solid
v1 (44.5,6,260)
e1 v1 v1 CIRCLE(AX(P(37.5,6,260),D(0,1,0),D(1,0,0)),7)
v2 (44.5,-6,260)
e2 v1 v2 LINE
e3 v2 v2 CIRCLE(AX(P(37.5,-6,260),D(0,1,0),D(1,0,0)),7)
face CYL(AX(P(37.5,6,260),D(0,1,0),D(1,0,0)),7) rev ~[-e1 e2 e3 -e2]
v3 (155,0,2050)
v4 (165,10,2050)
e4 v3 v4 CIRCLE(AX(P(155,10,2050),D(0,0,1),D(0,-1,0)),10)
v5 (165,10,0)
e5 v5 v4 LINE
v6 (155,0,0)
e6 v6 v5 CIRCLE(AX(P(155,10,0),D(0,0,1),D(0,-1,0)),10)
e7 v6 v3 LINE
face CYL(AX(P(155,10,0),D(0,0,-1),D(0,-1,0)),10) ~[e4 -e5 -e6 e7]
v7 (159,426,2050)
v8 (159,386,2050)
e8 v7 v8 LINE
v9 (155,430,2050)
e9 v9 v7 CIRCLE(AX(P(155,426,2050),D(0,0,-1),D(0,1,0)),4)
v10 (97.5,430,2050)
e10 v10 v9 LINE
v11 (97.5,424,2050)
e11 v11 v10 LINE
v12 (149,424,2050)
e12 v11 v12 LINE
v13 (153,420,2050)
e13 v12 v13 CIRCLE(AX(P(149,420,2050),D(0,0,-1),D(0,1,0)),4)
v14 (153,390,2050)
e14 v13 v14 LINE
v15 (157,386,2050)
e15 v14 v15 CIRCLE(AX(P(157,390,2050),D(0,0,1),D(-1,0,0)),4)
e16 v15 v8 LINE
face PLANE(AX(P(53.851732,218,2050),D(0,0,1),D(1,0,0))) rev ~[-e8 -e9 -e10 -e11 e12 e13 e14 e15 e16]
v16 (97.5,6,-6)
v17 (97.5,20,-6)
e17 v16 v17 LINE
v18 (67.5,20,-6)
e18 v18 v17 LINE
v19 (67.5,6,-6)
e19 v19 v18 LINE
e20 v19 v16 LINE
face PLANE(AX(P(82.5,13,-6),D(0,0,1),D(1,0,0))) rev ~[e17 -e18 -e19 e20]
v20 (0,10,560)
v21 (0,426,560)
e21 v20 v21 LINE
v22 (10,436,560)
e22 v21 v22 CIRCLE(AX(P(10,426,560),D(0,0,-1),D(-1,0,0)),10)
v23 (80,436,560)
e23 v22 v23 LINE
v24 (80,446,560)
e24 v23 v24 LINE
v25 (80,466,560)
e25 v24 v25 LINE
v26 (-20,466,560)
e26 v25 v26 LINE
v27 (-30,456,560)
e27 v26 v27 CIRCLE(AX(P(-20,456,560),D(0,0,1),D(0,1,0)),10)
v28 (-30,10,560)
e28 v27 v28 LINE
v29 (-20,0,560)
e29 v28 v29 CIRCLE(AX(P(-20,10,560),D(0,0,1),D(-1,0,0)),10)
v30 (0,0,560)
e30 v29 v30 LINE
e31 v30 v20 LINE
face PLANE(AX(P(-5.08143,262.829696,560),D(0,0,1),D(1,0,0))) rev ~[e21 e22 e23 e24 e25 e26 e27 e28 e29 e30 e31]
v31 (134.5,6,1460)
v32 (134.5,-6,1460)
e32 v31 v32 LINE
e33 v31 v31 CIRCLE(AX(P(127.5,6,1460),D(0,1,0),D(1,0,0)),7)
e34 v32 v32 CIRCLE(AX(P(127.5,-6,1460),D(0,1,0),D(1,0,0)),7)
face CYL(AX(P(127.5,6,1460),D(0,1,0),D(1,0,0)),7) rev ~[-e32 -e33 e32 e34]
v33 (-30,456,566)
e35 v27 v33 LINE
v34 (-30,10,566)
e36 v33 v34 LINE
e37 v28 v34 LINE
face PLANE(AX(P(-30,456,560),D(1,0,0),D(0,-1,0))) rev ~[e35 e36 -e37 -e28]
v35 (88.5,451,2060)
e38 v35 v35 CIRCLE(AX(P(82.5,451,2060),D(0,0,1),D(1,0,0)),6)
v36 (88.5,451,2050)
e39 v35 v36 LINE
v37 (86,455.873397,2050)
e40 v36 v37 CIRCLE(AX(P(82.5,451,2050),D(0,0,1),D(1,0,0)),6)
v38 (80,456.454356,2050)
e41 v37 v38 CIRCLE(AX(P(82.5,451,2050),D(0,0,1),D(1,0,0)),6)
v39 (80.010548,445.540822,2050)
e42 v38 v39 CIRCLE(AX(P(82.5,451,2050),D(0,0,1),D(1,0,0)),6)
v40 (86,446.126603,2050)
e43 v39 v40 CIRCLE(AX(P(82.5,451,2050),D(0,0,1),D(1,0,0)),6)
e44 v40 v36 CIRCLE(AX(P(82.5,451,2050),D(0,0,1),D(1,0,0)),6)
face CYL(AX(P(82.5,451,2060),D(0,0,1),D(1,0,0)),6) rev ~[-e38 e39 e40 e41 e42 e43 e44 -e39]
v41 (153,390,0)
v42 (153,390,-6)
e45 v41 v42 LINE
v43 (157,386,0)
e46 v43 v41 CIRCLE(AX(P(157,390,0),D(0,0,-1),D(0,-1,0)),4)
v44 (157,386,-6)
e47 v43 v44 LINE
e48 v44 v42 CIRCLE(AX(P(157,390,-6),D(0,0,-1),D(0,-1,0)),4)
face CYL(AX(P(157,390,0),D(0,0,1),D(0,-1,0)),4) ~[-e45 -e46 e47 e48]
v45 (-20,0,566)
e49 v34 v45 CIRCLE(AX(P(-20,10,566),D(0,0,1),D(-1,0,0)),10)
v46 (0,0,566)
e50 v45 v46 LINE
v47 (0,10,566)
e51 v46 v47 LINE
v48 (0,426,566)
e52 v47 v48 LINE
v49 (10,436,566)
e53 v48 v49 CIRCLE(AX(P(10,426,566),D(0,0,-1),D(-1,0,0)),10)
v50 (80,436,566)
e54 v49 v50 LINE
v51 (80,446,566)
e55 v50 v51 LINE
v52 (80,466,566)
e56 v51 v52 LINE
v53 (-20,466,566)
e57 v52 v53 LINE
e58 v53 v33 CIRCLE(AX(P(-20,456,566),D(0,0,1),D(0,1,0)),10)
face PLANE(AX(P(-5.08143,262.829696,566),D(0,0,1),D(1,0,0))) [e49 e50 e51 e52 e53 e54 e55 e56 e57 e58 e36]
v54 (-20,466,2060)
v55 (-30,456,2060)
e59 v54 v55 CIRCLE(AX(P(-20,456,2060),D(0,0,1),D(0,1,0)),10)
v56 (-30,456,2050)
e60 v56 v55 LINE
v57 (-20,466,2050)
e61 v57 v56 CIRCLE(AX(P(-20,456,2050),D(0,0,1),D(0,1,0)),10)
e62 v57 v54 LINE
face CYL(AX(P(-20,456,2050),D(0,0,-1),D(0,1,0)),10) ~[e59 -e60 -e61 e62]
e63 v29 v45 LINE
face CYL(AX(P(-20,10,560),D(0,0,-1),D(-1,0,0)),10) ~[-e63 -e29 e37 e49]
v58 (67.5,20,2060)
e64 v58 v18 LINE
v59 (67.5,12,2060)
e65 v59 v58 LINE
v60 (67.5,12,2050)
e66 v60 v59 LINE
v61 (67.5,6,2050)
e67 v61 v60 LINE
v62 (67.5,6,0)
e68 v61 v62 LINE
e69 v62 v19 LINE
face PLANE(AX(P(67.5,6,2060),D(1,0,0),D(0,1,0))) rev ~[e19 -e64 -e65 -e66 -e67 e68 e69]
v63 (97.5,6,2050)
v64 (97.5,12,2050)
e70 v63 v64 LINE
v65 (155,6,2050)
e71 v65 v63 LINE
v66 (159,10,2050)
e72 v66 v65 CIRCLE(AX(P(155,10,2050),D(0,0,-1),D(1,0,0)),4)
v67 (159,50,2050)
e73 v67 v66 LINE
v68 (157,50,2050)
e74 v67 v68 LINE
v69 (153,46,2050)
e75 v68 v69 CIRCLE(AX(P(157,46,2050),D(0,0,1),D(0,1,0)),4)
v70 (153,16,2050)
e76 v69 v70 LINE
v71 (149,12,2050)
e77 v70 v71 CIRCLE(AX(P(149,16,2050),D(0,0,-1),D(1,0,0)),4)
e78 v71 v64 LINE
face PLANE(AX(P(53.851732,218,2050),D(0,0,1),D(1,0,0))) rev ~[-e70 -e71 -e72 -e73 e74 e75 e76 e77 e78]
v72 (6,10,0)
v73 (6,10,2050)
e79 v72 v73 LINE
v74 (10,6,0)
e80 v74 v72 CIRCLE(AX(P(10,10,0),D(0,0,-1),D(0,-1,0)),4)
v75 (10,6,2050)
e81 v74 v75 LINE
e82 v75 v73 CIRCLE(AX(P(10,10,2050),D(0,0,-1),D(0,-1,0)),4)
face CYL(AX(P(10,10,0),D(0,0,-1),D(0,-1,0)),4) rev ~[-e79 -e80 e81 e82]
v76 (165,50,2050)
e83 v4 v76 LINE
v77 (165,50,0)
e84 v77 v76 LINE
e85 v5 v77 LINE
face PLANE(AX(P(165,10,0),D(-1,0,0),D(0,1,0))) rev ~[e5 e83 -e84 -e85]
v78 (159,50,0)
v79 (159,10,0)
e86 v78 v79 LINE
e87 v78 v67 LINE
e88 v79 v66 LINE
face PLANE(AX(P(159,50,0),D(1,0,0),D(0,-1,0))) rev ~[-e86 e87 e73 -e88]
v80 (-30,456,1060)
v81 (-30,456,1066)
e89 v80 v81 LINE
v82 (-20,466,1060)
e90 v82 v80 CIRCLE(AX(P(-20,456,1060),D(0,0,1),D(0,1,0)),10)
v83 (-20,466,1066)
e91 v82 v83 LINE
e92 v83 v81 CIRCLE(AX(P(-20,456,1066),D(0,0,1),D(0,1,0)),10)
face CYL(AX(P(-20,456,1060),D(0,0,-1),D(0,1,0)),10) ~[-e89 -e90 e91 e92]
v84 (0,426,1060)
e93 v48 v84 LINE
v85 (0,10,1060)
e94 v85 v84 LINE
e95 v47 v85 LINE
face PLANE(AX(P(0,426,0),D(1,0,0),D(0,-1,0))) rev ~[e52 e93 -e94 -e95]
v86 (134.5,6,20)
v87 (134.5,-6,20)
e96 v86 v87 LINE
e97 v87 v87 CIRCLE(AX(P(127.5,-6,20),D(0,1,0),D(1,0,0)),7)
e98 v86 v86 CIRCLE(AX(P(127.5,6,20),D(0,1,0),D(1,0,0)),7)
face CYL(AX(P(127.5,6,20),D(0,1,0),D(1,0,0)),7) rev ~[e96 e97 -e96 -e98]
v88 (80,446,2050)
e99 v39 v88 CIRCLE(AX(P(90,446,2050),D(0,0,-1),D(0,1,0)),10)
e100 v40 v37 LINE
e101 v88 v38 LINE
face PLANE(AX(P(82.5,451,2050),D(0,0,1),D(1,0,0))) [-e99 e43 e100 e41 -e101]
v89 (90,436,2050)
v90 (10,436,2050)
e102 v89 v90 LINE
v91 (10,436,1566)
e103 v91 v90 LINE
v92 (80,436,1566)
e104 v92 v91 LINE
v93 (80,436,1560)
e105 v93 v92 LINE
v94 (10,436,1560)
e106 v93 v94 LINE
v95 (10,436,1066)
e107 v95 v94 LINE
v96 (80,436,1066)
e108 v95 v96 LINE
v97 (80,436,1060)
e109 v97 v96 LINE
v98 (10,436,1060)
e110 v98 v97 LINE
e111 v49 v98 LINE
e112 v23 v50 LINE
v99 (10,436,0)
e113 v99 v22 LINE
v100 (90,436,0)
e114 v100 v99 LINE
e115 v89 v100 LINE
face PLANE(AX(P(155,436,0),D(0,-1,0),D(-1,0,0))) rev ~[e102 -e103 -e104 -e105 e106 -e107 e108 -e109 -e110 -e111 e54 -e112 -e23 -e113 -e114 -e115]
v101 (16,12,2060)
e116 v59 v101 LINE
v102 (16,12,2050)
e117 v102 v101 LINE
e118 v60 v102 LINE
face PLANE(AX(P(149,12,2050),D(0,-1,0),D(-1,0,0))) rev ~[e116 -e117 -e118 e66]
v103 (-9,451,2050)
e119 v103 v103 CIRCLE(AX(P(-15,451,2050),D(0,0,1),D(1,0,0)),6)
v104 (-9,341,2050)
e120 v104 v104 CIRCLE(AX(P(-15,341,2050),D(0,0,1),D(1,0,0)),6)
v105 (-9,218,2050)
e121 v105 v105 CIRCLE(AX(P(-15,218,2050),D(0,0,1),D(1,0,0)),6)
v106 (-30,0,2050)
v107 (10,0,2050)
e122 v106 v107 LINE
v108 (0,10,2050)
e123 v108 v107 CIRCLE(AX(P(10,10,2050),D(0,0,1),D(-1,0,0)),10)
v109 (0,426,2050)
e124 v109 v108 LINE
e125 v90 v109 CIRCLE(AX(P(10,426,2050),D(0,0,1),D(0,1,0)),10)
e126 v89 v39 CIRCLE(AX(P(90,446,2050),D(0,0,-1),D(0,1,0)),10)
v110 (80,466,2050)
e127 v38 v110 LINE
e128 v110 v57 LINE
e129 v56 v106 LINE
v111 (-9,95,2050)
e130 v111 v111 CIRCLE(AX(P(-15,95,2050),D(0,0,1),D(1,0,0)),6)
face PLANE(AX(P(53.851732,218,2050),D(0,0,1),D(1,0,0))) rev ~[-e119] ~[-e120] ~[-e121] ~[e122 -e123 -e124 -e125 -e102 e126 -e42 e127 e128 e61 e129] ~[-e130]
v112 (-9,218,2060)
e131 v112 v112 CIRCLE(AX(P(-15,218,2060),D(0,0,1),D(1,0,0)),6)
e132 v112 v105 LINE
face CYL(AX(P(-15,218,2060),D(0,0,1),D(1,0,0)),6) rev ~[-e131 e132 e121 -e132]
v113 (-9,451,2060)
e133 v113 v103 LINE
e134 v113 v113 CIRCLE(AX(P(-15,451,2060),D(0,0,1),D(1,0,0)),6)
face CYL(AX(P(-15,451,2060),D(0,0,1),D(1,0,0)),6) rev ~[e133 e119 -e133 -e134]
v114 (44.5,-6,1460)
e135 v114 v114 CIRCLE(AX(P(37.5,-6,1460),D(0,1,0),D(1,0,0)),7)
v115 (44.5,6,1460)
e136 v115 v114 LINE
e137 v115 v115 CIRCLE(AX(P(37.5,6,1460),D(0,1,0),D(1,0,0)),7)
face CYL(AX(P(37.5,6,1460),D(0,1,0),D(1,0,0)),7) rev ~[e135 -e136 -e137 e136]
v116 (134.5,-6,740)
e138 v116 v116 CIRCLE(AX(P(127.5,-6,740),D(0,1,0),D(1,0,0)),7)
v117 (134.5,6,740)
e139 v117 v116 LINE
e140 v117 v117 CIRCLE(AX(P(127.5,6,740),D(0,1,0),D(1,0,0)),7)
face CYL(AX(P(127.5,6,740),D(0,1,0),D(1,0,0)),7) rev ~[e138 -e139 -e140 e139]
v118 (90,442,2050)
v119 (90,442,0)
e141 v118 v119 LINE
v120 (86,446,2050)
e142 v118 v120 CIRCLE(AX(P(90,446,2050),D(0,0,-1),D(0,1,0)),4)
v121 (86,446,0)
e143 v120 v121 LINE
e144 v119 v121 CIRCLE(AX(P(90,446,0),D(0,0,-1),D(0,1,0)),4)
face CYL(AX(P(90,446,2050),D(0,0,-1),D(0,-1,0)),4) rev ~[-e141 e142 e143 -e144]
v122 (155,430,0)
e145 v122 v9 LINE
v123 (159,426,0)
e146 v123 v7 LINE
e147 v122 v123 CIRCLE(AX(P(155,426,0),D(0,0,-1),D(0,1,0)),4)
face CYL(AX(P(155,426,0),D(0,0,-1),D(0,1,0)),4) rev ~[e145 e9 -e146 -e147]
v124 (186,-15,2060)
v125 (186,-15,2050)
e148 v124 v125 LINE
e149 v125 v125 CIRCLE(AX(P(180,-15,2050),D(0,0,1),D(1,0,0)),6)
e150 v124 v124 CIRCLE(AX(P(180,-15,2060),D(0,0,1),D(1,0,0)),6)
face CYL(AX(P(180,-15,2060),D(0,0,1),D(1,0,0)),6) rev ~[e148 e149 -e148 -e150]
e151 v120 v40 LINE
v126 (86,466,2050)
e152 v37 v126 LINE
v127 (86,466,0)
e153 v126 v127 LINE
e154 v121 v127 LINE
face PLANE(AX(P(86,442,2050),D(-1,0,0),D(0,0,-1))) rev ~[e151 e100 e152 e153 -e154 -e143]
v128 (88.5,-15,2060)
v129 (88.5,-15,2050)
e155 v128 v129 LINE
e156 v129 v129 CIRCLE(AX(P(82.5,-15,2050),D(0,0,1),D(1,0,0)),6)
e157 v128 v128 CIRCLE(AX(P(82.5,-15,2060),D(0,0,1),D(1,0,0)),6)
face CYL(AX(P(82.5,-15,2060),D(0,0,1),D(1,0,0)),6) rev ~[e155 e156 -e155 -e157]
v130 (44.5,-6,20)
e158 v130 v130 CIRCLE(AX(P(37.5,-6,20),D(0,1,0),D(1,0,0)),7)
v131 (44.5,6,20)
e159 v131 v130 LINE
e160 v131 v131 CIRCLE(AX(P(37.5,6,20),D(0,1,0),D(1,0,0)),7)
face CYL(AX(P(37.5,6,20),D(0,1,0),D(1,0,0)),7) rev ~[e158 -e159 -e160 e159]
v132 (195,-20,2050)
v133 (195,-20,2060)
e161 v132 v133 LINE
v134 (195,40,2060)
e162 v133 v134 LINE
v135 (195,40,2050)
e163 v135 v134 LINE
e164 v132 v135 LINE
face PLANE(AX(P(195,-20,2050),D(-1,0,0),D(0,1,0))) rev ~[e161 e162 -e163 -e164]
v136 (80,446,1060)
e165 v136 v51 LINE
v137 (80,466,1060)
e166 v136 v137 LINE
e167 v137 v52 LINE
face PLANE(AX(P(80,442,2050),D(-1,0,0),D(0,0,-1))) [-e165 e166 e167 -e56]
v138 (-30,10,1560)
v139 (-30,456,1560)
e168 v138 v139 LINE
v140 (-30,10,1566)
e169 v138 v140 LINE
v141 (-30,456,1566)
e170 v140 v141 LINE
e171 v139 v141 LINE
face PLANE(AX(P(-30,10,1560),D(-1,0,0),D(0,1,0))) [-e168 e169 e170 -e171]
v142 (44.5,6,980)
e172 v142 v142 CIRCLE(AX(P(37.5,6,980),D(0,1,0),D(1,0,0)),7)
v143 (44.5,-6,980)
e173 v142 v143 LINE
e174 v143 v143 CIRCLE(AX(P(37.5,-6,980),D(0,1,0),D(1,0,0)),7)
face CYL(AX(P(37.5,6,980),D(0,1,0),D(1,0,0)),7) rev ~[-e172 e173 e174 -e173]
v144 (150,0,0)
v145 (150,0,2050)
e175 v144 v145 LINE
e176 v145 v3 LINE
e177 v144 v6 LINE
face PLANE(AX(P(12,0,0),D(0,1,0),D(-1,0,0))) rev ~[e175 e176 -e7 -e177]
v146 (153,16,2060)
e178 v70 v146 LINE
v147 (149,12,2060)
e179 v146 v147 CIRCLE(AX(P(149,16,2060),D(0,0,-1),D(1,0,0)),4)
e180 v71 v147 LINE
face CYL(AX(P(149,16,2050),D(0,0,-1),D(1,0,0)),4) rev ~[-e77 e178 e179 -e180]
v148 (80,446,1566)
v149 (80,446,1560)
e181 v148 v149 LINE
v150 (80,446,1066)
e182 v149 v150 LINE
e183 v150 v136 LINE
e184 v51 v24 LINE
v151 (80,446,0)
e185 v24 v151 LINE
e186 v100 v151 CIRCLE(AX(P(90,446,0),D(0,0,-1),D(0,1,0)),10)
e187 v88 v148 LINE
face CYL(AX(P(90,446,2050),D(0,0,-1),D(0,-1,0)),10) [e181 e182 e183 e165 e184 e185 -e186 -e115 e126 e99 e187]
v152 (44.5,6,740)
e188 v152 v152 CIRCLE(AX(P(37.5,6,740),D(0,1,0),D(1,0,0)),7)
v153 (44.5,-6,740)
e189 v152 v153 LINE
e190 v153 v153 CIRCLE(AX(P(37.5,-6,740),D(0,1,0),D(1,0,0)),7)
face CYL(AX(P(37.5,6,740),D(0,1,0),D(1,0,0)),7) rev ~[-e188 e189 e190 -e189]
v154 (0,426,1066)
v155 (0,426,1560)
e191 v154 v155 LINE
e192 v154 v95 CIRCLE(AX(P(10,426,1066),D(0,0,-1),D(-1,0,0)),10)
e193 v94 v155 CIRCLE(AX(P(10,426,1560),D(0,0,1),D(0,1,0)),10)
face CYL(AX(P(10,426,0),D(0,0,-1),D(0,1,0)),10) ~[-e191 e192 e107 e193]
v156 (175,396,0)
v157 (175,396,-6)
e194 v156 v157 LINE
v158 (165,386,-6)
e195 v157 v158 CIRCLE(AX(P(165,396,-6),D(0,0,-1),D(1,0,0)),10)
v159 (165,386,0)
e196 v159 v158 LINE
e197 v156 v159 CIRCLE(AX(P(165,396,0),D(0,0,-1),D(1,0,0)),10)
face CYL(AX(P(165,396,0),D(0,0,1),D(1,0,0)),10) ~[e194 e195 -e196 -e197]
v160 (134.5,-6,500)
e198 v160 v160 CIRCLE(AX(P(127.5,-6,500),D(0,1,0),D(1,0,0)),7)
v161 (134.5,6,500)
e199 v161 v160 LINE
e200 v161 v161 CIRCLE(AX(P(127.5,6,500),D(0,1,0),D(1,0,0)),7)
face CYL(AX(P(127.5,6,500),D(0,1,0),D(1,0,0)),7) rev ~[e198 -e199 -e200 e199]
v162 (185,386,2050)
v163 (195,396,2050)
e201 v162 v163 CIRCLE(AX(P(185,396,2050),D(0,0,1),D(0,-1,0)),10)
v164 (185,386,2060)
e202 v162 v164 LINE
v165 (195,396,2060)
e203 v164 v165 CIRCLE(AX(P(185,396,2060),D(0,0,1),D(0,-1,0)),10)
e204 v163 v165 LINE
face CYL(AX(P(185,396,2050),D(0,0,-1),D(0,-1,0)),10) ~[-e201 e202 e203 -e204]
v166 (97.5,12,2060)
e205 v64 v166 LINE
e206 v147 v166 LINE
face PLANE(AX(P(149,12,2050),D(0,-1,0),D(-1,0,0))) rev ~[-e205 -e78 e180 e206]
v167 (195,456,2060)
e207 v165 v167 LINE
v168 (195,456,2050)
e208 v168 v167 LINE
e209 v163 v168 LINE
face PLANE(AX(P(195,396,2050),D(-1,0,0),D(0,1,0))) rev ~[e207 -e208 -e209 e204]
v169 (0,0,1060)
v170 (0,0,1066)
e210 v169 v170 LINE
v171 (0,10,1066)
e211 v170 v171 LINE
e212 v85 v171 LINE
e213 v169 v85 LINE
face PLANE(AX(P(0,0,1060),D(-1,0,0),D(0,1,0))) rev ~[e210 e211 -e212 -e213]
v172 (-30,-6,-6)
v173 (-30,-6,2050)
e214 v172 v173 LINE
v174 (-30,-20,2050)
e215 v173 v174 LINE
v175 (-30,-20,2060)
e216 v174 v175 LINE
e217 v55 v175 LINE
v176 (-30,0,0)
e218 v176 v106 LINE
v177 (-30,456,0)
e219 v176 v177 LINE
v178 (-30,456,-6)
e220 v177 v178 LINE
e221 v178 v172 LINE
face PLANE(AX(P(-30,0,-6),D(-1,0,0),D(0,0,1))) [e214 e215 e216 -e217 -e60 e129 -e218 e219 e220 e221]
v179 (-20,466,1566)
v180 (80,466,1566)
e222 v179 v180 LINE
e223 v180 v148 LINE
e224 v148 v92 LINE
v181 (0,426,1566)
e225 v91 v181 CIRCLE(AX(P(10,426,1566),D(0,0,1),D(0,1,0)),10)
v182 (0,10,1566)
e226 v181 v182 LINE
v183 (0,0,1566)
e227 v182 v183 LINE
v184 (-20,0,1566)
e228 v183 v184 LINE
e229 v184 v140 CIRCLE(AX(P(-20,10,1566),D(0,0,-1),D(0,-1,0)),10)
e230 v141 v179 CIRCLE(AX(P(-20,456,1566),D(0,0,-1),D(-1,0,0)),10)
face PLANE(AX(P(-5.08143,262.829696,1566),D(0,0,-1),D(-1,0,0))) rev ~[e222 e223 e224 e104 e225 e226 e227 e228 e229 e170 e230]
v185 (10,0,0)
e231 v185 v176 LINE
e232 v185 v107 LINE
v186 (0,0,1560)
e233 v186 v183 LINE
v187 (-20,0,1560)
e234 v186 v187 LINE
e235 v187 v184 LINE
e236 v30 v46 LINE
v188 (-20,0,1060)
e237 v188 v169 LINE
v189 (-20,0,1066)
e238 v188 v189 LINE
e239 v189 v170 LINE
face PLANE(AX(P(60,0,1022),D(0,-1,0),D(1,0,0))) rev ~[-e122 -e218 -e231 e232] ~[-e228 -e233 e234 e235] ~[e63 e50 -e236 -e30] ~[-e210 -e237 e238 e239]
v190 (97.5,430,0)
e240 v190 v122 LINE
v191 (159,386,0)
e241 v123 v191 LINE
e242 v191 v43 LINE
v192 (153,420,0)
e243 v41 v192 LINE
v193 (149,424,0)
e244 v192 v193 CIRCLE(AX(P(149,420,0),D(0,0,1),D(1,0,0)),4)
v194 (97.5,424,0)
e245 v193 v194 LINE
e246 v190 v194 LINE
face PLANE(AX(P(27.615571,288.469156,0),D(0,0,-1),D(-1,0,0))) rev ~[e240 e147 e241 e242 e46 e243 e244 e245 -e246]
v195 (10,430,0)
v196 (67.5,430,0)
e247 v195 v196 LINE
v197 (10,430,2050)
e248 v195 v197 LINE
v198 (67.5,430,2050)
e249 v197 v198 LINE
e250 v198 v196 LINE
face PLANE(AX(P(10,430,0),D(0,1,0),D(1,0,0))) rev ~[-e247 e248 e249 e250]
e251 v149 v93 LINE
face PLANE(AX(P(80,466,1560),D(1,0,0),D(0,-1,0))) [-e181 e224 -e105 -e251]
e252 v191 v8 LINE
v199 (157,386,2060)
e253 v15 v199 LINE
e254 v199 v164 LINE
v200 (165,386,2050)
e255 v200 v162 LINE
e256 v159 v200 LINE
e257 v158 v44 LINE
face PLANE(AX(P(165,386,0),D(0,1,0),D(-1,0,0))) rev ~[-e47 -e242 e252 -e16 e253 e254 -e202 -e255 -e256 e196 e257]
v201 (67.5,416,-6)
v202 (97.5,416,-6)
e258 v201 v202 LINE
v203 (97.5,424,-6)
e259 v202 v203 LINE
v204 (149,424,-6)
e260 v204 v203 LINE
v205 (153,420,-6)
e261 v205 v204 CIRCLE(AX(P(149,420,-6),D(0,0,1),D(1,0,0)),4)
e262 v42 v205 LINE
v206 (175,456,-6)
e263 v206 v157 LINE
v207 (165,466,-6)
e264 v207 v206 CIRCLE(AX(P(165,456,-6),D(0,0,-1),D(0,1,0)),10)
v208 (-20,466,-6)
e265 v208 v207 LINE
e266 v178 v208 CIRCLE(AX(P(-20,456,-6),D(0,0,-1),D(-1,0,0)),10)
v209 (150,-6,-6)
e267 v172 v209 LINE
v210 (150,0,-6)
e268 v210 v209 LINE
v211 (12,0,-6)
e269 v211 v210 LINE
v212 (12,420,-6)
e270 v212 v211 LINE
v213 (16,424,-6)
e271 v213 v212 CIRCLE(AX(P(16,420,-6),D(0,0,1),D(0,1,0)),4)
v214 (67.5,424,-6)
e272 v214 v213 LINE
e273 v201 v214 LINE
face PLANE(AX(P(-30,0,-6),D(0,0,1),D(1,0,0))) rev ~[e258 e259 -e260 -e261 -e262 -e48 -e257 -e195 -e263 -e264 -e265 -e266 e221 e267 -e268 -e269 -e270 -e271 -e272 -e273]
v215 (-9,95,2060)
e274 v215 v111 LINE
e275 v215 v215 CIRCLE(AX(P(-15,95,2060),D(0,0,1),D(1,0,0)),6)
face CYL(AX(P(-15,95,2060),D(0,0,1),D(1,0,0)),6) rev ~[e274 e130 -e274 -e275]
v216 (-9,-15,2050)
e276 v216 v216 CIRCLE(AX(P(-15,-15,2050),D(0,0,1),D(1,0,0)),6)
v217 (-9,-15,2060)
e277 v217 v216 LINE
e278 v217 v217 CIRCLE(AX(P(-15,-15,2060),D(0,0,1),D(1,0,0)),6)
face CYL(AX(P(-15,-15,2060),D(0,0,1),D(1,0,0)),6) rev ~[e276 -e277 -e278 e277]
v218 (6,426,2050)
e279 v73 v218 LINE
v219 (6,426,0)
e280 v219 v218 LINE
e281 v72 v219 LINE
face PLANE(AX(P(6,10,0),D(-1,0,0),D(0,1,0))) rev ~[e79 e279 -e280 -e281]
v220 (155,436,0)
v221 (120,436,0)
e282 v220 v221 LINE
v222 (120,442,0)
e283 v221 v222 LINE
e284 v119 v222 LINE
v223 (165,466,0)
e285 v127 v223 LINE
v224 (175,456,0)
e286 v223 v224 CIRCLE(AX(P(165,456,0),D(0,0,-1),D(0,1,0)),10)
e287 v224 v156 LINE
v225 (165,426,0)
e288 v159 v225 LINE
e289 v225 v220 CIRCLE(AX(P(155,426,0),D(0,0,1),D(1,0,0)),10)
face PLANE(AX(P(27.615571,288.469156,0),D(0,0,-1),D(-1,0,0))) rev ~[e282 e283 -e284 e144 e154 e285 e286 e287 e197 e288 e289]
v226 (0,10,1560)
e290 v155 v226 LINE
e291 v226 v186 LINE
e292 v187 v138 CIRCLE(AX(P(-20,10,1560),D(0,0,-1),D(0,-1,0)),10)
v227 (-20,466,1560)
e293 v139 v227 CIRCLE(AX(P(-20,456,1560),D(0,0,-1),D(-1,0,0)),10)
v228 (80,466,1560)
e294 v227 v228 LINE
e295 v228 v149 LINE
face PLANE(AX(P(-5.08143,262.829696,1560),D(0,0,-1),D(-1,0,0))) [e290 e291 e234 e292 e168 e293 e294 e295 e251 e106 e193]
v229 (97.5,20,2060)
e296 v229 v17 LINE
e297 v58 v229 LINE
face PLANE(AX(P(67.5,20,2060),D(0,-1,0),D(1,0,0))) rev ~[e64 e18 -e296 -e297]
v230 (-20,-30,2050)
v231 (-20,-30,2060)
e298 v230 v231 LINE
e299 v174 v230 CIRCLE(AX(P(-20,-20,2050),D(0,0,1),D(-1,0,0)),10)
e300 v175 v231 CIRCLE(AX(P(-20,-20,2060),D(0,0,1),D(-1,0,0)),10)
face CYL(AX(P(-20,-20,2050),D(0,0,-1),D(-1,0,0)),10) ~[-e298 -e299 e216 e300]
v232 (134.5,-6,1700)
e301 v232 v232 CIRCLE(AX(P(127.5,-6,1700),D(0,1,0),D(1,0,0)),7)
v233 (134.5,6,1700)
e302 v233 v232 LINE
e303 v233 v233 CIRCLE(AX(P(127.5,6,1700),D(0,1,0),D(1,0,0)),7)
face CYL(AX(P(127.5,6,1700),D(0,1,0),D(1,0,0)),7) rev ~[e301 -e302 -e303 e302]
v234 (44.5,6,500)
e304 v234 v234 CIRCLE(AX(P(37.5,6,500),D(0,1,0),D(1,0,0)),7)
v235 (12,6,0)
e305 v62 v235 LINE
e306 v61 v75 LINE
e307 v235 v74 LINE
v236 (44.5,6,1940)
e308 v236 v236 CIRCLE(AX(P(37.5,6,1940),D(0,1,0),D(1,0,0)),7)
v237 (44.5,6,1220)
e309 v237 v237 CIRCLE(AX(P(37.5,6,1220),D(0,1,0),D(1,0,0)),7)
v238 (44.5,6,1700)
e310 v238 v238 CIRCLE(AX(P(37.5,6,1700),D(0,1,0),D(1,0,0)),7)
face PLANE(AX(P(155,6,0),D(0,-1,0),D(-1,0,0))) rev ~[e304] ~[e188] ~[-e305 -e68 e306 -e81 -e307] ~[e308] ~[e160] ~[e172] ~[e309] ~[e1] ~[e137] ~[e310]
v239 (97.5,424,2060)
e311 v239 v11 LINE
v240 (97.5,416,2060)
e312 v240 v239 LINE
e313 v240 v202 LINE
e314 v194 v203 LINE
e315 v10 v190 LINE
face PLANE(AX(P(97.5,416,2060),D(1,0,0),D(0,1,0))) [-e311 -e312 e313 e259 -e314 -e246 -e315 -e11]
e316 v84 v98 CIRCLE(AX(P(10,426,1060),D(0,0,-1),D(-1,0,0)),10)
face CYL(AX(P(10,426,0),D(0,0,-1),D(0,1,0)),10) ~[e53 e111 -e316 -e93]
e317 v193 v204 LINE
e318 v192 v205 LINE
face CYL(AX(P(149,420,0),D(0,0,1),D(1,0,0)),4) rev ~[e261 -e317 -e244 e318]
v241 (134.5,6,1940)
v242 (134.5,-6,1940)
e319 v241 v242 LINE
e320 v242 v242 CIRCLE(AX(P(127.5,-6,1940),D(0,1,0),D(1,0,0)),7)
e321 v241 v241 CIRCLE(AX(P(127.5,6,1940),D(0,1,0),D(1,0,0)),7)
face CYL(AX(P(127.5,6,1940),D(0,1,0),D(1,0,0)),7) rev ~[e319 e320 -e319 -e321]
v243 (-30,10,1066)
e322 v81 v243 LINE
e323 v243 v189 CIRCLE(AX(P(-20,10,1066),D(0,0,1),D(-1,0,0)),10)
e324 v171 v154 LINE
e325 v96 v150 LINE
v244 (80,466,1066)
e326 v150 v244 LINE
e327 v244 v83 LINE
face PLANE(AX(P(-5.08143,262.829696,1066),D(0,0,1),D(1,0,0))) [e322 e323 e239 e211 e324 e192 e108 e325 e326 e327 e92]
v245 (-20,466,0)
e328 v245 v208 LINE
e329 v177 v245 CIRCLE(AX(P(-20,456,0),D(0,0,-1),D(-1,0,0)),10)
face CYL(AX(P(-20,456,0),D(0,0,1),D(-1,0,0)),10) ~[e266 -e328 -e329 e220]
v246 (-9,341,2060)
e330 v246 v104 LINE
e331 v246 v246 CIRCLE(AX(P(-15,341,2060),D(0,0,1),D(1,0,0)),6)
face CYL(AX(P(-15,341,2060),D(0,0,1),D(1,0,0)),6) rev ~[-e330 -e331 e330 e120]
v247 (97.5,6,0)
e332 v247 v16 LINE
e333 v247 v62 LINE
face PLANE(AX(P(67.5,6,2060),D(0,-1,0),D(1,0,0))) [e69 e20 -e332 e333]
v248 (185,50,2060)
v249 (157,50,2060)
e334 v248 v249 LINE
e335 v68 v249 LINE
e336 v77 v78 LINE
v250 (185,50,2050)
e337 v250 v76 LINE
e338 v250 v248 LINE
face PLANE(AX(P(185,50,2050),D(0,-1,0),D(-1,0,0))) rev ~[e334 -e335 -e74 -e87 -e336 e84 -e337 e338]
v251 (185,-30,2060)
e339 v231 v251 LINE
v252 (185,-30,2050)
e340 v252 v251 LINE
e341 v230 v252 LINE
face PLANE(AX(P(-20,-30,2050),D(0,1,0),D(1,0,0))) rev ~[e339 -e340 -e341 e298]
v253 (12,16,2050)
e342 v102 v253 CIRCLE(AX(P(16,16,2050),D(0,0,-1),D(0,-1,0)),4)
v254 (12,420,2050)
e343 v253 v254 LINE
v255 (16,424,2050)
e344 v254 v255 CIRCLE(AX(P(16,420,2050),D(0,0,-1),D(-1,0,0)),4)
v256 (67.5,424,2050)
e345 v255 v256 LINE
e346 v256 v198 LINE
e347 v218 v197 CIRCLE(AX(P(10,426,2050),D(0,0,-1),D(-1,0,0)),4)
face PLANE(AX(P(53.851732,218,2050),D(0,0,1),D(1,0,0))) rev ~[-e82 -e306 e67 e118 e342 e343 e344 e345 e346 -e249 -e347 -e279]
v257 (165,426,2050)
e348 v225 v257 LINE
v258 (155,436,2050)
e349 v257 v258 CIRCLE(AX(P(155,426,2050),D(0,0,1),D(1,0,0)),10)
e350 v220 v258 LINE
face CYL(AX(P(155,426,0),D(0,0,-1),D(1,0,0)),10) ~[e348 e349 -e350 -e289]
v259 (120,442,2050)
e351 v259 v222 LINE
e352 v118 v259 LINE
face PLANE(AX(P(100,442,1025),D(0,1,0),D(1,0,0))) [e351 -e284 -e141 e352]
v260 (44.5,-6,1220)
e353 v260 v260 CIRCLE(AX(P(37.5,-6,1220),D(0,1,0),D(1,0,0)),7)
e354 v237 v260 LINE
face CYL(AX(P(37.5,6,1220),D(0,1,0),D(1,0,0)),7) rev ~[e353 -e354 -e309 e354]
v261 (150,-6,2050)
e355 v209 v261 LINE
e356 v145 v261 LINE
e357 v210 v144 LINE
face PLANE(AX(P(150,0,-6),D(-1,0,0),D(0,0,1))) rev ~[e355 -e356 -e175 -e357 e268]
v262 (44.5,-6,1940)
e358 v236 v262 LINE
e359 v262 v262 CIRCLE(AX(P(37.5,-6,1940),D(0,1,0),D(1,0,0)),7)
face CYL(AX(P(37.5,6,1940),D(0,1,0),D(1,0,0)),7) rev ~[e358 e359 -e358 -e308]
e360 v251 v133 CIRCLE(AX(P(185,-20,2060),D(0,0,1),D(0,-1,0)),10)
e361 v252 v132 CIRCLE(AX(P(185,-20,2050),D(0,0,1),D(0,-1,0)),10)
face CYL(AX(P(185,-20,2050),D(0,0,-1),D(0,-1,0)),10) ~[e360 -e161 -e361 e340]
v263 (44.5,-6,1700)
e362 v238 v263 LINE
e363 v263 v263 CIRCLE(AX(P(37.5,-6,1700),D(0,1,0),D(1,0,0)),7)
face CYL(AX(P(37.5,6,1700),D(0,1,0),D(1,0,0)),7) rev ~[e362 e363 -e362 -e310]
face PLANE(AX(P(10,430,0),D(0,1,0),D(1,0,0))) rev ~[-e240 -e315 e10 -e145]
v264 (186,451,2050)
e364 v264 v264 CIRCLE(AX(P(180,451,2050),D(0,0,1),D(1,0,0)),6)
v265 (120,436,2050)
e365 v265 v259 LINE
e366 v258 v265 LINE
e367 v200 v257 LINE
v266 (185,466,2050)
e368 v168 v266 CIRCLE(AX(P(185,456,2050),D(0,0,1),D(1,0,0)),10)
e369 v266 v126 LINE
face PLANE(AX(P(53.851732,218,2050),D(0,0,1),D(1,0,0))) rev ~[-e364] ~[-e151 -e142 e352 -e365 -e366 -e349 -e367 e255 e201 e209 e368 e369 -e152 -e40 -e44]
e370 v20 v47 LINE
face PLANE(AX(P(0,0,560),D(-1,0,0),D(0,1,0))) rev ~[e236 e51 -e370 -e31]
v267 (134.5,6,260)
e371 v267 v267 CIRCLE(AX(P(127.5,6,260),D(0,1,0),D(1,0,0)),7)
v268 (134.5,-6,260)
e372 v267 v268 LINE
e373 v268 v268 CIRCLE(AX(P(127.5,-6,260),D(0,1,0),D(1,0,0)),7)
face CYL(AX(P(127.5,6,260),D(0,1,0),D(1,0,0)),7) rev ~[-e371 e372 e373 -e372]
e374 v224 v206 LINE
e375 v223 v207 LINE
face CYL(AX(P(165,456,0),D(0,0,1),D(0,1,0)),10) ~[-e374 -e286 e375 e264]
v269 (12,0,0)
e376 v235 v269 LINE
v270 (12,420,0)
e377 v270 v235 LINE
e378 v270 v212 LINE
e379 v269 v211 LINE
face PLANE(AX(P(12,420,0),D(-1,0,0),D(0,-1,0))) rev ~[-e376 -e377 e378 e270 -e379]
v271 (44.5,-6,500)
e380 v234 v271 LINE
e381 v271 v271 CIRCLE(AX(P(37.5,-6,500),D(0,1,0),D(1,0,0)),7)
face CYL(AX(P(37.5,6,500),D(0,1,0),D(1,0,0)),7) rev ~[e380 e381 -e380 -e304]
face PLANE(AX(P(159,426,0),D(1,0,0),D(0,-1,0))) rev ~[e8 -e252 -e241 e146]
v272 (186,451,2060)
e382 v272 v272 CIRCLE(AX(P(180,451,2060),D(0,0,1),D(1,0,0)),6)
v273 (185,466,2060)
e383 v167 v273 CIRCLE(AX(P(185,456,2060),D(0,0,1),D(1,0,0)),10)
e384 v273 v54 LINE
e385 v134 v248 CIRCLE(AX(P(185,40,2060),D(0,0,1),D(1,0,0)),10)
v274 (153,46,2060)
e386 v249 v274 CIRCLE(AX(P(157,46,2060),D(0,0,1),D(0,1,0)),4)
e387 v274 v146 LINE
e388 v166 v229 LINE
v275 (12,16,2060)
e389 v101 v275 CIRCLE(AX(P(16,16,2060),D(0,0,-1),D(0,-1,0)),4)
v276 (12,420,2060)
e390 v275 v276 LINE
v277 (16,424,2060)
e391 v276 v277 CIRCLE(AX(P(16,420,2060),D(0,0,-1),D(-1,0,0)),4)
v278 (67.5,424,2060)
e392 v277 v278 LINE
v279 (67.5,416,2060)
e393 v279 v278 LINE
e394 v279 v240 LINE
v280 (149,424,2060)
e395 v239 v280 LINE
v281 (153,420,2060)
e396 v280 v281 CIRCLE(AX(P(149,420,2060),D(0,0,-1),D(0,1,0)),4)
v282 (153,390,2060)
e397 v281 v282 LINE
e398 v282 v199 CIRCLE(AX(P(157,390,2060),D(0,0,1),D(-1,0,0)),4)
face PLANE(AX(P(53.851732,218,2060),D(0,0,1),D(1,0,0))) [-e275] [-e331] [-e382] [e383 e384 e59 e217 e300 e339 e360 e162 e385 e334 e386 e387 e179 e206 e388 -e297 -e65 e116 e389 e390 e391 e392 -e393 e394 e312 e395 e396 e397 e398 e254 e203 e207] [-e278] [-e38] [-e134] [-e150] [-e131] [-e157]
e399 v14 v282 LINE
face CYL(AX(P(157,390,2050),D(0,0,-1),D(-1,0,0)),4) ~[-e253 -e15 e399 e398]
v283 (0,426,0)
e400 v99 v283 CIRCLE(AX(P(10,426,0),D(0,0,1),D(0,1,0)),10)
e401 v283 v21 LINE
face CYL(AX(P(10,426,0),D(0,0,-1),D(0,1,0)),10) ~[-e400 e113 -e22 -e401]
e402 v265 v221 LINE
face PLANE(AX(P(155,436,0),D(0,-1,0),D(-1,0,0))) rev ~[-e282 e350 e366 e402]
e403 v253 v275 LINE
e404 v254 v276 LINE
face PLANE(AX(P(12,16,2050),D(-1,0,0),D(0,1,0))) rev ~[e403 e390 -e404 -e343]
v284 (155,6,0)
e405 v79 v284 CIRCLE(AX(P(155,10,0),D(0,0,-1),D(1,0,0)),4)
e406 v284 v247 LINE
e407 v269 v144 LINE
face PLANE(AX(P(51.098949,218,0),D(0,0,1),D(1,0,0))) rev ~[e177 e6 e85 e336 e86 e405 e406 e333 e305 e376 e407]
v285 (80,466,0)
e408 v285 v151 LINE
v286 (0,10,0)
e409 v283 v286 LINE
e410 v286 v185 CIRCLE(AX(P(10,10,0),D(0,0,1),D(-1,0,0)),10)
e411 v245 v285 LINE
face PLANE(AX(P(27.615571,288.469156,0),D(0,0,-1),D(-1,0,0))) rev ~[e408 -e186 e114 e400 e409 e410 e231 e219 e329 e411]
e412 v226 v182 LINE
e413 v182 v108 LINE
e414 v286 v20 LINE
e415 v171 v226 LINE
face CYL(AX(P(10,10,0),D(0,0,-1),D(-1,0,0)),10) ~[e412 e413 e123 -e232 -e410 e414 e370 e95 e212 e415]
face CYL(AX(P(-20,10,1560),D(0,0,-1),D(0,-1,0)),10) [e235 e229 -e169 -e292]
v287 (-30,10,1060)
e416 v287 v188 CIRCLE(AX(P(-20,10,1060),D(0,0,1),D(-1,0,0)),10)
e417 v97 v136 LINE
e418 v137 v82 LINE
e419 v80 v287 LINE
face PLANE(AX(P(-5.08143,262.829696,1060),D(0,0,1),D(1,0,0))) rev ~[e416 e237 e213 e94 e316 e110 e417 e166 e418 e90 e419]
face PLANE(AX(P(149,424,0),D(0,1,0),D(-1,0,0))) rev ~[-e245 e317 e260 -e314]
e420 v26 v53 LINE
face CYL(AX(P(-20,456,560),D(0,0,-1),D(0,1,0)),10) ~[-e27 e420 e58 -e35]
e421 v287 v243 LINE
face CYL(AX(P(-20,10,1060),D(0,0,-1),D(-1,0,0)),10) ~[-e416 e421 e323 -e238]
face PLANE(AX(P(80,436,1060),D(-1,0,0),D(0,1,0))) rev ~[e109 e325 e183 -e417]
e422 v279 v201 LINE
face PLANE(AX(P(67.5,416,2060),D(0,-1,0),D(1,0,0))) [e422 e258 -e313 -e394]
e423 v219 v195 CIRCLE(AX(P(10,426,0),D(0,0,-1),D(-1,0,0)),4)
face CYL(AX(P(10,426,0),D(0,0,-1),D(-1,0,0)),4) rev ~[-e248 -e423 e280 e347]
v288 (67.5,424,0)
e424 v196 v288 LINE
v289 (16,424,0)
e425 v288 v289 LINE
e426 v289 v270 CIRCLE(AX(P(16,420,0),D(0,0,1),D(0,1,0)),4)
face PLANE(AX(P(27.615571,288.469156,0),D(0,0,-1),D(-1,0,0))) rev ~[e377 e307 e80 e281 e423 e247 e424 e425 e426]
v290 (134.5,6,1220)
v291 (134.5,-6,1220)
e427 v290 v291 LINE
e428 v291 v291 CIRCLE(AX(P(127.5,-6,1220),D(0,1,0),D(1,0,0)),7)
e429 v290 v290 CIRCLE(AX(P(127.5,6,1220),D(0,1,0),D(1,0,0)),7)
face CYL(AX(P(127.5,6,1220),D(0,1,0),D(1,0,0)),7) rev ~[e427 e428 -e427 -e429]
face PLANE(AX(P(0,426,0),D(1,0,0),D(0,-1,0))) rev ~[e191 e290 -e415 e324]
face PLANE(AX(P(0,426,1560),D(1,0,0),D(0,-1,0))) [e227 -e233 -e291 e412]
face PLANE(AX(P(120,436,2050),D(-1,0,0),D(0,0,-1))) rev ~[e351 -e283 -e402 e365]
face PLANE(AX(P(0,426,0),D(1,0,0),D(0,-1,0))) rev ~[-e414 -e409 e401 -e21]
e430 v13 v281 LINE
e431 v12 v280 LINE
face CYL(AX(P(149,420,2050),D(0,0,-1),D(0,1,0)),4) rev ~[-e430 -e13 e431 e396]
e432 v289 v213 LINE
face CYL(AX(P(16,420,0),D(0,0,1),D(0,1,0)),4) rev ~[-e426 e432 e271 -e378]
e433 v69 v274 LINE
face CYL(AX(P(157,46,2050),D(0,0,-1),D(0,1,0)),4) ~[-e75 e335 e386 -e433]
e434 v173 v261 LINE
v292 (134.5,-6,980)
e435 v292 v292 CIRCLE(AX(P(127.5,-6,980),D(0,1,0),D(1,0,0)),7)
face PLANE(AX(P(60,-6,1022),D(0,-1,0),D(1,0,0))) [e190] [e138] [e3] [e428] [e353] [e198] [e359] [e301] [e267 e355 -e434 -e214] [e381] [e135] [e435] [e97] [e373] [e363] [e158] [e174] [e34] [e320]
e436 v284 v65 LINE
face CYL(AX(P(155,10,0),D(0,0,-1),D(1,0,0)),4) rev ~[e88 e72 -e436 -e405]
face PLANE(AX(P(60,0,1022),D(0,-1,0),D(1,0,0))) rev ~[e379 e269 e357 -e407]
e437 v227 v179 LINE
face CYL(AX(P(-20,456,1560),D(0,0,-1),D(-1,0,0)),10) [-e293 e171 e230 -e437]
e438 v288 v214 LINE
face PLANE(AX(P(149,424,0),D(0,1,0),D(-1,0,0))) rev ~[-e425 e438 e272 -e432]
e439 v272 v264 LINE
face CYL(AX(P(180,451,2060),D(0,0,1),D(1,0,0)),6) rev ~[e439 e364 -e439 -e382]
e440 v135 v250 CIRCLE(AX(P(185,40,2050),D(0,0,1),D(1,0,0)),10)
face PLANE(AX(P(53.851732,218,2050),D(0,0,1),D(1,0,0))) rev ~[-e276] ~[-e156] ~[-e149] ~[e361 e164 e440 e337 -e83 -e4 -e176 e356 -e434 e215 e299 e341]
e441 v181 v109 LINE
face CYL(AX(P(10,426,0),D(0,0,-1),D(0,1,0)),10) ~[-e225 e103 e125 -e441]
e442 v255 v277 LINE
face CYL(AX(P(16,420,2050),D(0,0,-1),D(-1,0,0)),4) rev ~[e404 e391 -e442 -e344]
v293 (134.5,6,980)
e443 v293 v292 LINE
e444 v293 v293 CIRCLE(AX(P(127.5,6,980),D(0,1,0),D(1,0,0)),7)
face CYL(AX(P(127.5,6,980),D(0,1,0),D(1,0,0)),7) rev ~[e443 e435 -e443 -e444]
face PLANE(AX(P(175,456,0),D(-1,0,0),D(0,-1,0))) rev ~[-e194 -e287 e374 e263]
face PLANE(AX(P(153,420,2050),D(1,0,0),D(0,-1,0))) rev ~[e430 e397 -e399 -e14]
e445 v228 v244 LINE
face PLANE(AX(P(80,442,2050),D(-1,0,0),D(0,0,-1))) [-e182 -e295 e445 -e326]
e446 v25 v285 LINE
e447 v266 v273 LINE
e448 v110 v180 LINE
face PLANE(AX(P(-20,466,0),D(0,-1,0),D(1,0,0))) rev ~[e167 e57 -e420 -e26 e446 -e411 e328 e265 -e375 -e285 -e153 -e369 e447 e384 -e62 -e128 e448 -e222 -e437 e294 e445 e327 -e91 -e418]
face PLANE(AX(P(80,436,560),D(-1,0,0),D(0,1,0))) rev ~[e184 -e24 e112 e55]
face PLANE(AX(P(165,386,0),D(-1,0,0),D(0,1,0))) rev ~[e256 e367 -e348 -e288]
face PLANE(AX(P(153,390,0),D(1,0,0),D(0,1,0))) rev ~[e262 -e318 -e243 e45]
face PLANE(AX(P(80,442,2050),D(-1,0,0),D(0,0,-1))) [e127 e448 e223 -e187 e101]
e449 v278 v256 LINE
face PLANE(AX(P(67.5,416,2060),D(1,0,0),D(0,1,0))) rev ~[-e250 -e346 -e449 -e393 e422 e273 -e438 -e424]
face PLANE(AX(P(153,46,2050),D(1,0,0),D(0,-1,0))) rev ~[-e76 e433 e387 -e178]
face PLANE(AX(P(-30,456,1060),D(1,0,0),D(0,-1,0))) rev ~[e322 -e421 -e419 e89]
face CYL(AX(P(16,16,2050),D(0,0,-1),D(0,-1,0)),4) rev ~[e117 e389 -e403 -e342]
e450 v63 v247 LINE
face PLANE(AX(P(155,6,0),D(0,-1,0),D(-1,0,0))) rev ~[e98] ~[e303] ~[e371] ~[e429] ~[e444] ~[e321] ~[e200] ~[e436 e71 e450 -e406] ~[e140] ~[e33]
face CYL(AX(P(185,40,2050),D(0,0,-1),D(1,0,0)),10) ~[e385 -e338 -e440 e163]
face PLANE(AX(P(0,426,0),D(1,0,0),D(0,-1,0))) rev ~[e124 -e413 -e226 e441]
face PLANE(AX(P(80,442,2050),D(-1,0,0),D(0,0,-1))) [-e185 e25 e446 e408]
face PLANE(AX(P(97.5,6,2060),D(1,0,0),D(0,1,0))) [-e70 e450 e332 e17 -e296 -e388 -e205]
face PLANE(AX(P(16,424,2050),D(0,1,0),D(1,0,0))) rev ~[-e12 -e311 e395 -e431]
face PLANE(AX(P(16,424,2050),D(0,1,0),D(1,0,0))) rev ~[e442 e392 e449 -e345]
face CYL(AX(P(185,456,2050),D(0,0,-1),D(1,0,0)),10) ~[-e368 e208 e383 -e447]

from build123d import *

# Parameters (mm, degrees)
EXTRUDE_1_DEPTH     = 2050
EXTRUDE_2_DEPTH     = 10
SKETCH_3_W          = 40
SKETCH_3_H          = 2050
EXTRUDE_3_DEPTH     = 6
SKETCH_4_W          = 6
SKETCH_4_H          = 2050
EXTRUDE_4_DEPTH     = 24
FILLET_1_R          = 4
FILLET_2_R          = 10
EXTRUDE_5_DEPTH     = 6
EXTRUDE_6_DEPTH     = 6
EXTRUDE_7_DEPTH     = 6
EXTRUDE_8_DEPTH     = 6
SKETCH_9_W          = 180
SKETCH_9_H          = 2056
EXTRUDE_9_DEPTH     = 6
SKETCH_10_W         = 30
SKETCH_10_H         = 14
EXTRUDE_10_DEPTH    = 2066
SKETCH_11_R         = 7
CUT_EXTRUDE_1_DEPTH = 37
SKETCH_13_R         = 6
CUT_EXTRUDE_2_DEPTH = 10


with BuildPart() as part:
    # 草图1 → 凸台-拉伸1 (new body)
    with BuildSketch(Plane.XY):
        with BuildLine():
            Line((10, 430), (155, 430))
            ThreePointArc((155, 430), (157.828427125, 428.828427125), (159, 426))
            Line((159, 426), (159, 386))
            Line((159, 386), (165, 386))
            Line((165, 386), (165, 426))
            ThreePointArc((165, 426), (162.071067812, 433.071067812), (155, 436))
            Line((155, 436), (10, 436))
            ThreePointArc((10, 436), (2.928932188, 433.071067812), (0, 426))
            Line((0, 426), (0, 10))
            ThreePointArc((0, 10), (2.928932188, 2.928932188), (10, 0))
            Line((10, 0), (155, 0))
            ThreePointArc((155, 0), (162.071067812, 2.928932188), (165, 10))
            Line((165, 10), (165, 50))
            Line((165, 50), (159, 50))
            Line((159, 50), (159, 10))
            ThreePointArc((159, 10), (157.828427125, 7.171572875), (155, 6))
            Line((155, 6), (10, 6))
            ThreePointArc((10, 6), (7.171572875, 7.171572875), (6, 10))
            Line((6, 10), (6, 426))
            ThreePointArc((6, 426), (7.171572875, 428.828427125), (10, 430))
        make_face()
    extrude(amount=EXTRUDE_1_DEPTH)



with BuildPart() as body_2:
    # 草图2 → 凸台-拉伸2 (new body)
    with BuildSketch(Plane.XY.offset(2050)):
        with BuildLine():
            Line((185, 466), (-20, 466))
            ThreePointArc((-20, 466), (-27.071067812, 463.071067812), (-30, 456))
            Line((-30, 456), (-30, -20))
            ThreePointArc((-30, -20), (-27.071067812, -27.071067812), (-20, -30))
            Line((-20, -30), (185, -30))
            ThreePointArc((185, -30), (192.071067812, -27.071067812), (195, -20))
            Line((195, -20), (195, 40))
            ThreePointArc((195, 40), (192.071067812, 47.071067812), (185, 50))
            Line((185, 50), (157, 50))
            ThreePointArc((157, 50), (154.171572875, 48.828427125), (153, 46))
            Line((153, 46), (153, 16))
            ThreePointArc((153, 16), (151.828427125, 13.171572875), (149, 12))
            Line((149, 12), (16, 12))
            ThreePointArc((16, 12), (13.171572875, 13.171572875), (12, 16))
            Line((12, 16), (12, 420))
            ThreePointArc((12, 420), (13.171572875, 422.828427125), (16, 424))
            Line((16, 424), (149, 424))
            ThreePointArc((149, 424), (151.828427125, 422.828427125), (153, 420))
            Line((153, 420), (153, 390))
            ThreePointArc((153, 390), (154.171572875, 387.171572875), (157, 386))
            Line((157, 386), (185, 386))
            ThreePointArc((185, 386), (192.071067812, 388.928932188), (195, 396))
            Line((195, 396), (195, 456))
            ThreePointArc((195, 456), (192.071067812, 463.071067812), (185, 466))
        make_face()
    extrude(amount=EXTRUDE_2_DEPTH)



with BuildPart() as body_3:
    # 草图3 → 凸台-拉伸3 (new body)
    with BuildSketch(Plane(origin=(0, 436, 0), x_dir=(1, 0, 0), z_dir=(0, 1, 0))):
        with Locations((100, -1025)):
            Rectangle(SKETCH_3_W, SKETCH_3_H)
    extrude(amount=EXTRUDE_3_DEPTH)


with BuildPart() as body_2_1:
    add(body_2.part)

    add(body_3.part)  # 凸台-拉伸4 merges body 3
    # 草图4 → 凸台-拉伸4 (add)
    with BuildSketch(Plane(origin=(0, 442, 0), x_dir=(1, 0, 0), z_dir=(0, 1, 0))):
        with Locations((83, -1025)):
            Rectangle(SKETCH_4_W, SKETCH_4_H)
    extrude(amount=EXTRUDE_4_DEPTH)

    # 圆角1
    fillet_1_edges = [body_2_1.edges().sort_by_distance(p)[0] for p in [
        (86, 442, 1025),
    ]]
    fillet(fillet_1_edges, radius=FILLET_1_R)

    # 圆角2
    fillet_2_edges = [body_2_1.edges().sort_by_distance(p)[0] for p in [
        (80, 436, 1025),
    ]]
    fillet(fillet_2_edges, radius=FILLET_2_R)


with BuildPart() as part_1:
    add(part.part)

    add(body_2_1.part)  # 凸台-拉伸5 merges body 2
    # 草图5 → 凸台-拉伸5 (add)
    with BuildSketch(Plane.XY.offset(1560)):
        with BuildLine():
            Line((0, 0), (-20, 0))
            ThreePointArc((-20, 0), (-27.071067812, 2.928932188), (-30, 10))
            Line((-30, 10), (-30, 456))
            ThreePointArc((-30, 456), (-27.071067812, 463.071067812), (-20, 466))
            Line((-20, 466), (80, 466))
            Line((80, 466), (80, 436))
            Line((80, 436), (10, 436))
            ThreePointArc((10, 436), (2.928932188, 433.071067812), (0, 426))
            Line((0, 426), (0, 0))
        make_face()
    extrude(amount=EXTRUDE_5_DEPTH)

    # 草图6 → 凸台-拉伸6 (add)
    with BuildSketch(Plane.XY.offset(1060)):
        with BuildLine():
            Line((0, 0), (0, 10))
            Line((0, 10), (0, 426))
            ThreePointArc((0, 426), (2.928932188, 433.071067812), (10, 436))
            Line((10, 436), (80, 436))
            Line((80, 436), (80, 446))
            Line((80, 446), (80, 466))
            Line((80, 466), (-20, 466))
            ThreePointArc((-20, 466), (-27.071067812, 463.071067812), (-30, 456))
            Line((-30, 456), (-30, 10))
            ThreePointArc((-30, 10), (-27.071067812, 2.928932188), (-20, 0))
            Line((-20, 0), (0, 0))
        make_face()
    extrude(amount=EXTRUDE_6_DEPTH)

    # 草图7 → 凸台-拉伸7 (add)
    with BuildSketch(Plane.XY.offset(560)):
        with BuildLine():
            Line((0, 10), (0, 426))
            ThreePointArc((0, 426), (2.928932188, 433.071067812), (10, 436))
            Line((10, 436), (80, 436))
            Line((80, 436), (80, 446))
            Line((80, 446), (80, 466))
            Line((80, 466), (-20, 466))
            ThreePointArc((-20, 466), (-27.071067812, 463.071067812), (-30, 456))
            Line((-30, 456), (-30, 10))
            ThreePointArc((-30, 10), (-27.071067812, 2.928932188), (-20, 0))
            Line((-20, 0), (0, 0))
            Line((0, 0), (0, 10))
        make_face()
    extrude(amount=EXTRUDE_7_DEPTH)

    # 草图8 → 凸台-拉伸8 (add)
    with BuildSketch(Plane(origin=(0, 0, 0), x_dir=(-1, 0, 0), z_dir=(0, 0, -1))):
        with BuildLine():
            Line((-12, 0), (30, 0))
            Line((30, 0), (30, 456))
            ThreePointArc((30, 456), (27.071067812, 463.071067812), (20, 466))
            Line((20, 466), (-165, 466))
            ThreePointArc((-165, 466), (-172.071067812, 463.071067812), (-175, 456))
            Line((-175, 456), (-175, 396))
            ThreePointArc((-175, 396), (-172.071067812, 388.928932188), (-165, 386))
            Line((-165, 386), (-157, 386))
            ThreePointArc((-157, 386), (-154.171572875, 387.171572875), (-153, 390))
            Line((-153, 390), (-153, 420))
            ThreePointArc((-153, 420), (-151.828427125, 422.828427125), (-149, 424))
            Line((-149, 424), (-16, 424))
            ThreePointArc((-16, 424), (-13.171572875, 422.828427125), (-12, 420))
            Line((-12, 420), (-12, 0))
        make_face()
    extrude(amount=EXTRUDE_8_DEPTH)

    # 草图9 → 凸台-拉伸9 (add)
    with BuildSketch(Plane.XZ):
        with Locations((60, 1022)):
            Rectangle(SKETCH_9_W, SKETCH_9_H)
    extrude(amount=EXTRUDE_9_DEPTH)

    # 草图10 → 凸台-拉伸10 (add)
    with BuildSketch(Plane.XY.offset(2060)):
        with Locations((82.5, 13)):
            Rectangle(SKETCH_10_W, SKETCH_10_H)
        with Locations((82.5, 423)):
            Rectangle(SKETCH_10_W, SKETCH_10_H)
    extrude(amount=-EXTRUDE_10_DEPTH)

    # 草图11 → 切除-拉伸1 (cut, through all)
    with BuildSketch(Plane(origin=(0, 6, 0), x_dir=(1, 0, 0), z_dir=(0, 1, 0))):
        with Locations((37.5, -20)):
            Circle(SKETCH_11_R)
        with Locations((127.5, -20)):
            Circle(SKETCH_11_R)
        with Locations((37.5, -260)):
            Circle(SKETCH_11_R)
        with Locations((127.5, -260)):
            Circle(SKETCH_11_R)
        with Locations((37.5, -500)):
            Circle(SKETCH_11_R)
        with Locations((127.5, -500)):
            Circle(SKETCH_11_R)
        with Locations((37.5, -740)):
            Circle(SKETCH_11_R)
        with Locations((127.5, -740)):
            Circle(SKETCH_11_R)
        with Locations((37.5, -980)):
            Circle(SKETCH_11_R)
        with Locations((127.5, -980)):
            Circle(SKETCH_11_R)
        with Locations((37.5, -1220)):
            Circle(SKETCH_11_R)
        with Locations((127.5, -1220)):
            Circle(SKETCH_11_R)
        with Locations((37.5, -1460)):
            Circle(SKETCH_11_R)
        with Locations((127.5, -1460)):
            Circle(SKETCH_11_R)
        with Locations((37.5, -1700)):
            Circle(SKETCH_11_R)
        with Locations((127.5, -1700)):
            Circle(SKETCH_11_R)
        with Locations((37.5, -1940)):
            Circle(SKETCH_11_R)
        with Locations((127.5, -1940)):
            Circle(SKETCH_11_R)
    extrude(amount=-CUT_EXTRUDE_1_DEPTH, mode=Mode.SUBTRACT)

    # 草图13 → 切除-拉伸2 (cut)
    with BuildSketch(Plane.XY.offset(2060)):
        with Locations((82.5, -15)):
            Circle(SKETCH_13_R)
        with Locations((-15, -15)):
            Circle(SKETCH_13_R)
        with Locations((180, -15)):
            Circle(SKETCH_13_R)
        with Locations((-15, 218)):
            Circle(SKETCH_13_R)
        with Locations((-15, 451)):
            Circle(SKETCH_13_R)
        with Locations((82.5, 451)):
            Circle(SKETCH_13_R)
        with Locations((180, 451)):
            Circle(SKETCH_13_R)
        with Locations((-15, 341)):
            Circle(SKETCH_13_R)
        with Locations((-15, 95)):
            Circle(SKETCH_13_R)
    extrude(amount=-CUT_EXTRUDE_2_DEPTH, mode=Mode.SUBTRACT)


solid = part_1.part
